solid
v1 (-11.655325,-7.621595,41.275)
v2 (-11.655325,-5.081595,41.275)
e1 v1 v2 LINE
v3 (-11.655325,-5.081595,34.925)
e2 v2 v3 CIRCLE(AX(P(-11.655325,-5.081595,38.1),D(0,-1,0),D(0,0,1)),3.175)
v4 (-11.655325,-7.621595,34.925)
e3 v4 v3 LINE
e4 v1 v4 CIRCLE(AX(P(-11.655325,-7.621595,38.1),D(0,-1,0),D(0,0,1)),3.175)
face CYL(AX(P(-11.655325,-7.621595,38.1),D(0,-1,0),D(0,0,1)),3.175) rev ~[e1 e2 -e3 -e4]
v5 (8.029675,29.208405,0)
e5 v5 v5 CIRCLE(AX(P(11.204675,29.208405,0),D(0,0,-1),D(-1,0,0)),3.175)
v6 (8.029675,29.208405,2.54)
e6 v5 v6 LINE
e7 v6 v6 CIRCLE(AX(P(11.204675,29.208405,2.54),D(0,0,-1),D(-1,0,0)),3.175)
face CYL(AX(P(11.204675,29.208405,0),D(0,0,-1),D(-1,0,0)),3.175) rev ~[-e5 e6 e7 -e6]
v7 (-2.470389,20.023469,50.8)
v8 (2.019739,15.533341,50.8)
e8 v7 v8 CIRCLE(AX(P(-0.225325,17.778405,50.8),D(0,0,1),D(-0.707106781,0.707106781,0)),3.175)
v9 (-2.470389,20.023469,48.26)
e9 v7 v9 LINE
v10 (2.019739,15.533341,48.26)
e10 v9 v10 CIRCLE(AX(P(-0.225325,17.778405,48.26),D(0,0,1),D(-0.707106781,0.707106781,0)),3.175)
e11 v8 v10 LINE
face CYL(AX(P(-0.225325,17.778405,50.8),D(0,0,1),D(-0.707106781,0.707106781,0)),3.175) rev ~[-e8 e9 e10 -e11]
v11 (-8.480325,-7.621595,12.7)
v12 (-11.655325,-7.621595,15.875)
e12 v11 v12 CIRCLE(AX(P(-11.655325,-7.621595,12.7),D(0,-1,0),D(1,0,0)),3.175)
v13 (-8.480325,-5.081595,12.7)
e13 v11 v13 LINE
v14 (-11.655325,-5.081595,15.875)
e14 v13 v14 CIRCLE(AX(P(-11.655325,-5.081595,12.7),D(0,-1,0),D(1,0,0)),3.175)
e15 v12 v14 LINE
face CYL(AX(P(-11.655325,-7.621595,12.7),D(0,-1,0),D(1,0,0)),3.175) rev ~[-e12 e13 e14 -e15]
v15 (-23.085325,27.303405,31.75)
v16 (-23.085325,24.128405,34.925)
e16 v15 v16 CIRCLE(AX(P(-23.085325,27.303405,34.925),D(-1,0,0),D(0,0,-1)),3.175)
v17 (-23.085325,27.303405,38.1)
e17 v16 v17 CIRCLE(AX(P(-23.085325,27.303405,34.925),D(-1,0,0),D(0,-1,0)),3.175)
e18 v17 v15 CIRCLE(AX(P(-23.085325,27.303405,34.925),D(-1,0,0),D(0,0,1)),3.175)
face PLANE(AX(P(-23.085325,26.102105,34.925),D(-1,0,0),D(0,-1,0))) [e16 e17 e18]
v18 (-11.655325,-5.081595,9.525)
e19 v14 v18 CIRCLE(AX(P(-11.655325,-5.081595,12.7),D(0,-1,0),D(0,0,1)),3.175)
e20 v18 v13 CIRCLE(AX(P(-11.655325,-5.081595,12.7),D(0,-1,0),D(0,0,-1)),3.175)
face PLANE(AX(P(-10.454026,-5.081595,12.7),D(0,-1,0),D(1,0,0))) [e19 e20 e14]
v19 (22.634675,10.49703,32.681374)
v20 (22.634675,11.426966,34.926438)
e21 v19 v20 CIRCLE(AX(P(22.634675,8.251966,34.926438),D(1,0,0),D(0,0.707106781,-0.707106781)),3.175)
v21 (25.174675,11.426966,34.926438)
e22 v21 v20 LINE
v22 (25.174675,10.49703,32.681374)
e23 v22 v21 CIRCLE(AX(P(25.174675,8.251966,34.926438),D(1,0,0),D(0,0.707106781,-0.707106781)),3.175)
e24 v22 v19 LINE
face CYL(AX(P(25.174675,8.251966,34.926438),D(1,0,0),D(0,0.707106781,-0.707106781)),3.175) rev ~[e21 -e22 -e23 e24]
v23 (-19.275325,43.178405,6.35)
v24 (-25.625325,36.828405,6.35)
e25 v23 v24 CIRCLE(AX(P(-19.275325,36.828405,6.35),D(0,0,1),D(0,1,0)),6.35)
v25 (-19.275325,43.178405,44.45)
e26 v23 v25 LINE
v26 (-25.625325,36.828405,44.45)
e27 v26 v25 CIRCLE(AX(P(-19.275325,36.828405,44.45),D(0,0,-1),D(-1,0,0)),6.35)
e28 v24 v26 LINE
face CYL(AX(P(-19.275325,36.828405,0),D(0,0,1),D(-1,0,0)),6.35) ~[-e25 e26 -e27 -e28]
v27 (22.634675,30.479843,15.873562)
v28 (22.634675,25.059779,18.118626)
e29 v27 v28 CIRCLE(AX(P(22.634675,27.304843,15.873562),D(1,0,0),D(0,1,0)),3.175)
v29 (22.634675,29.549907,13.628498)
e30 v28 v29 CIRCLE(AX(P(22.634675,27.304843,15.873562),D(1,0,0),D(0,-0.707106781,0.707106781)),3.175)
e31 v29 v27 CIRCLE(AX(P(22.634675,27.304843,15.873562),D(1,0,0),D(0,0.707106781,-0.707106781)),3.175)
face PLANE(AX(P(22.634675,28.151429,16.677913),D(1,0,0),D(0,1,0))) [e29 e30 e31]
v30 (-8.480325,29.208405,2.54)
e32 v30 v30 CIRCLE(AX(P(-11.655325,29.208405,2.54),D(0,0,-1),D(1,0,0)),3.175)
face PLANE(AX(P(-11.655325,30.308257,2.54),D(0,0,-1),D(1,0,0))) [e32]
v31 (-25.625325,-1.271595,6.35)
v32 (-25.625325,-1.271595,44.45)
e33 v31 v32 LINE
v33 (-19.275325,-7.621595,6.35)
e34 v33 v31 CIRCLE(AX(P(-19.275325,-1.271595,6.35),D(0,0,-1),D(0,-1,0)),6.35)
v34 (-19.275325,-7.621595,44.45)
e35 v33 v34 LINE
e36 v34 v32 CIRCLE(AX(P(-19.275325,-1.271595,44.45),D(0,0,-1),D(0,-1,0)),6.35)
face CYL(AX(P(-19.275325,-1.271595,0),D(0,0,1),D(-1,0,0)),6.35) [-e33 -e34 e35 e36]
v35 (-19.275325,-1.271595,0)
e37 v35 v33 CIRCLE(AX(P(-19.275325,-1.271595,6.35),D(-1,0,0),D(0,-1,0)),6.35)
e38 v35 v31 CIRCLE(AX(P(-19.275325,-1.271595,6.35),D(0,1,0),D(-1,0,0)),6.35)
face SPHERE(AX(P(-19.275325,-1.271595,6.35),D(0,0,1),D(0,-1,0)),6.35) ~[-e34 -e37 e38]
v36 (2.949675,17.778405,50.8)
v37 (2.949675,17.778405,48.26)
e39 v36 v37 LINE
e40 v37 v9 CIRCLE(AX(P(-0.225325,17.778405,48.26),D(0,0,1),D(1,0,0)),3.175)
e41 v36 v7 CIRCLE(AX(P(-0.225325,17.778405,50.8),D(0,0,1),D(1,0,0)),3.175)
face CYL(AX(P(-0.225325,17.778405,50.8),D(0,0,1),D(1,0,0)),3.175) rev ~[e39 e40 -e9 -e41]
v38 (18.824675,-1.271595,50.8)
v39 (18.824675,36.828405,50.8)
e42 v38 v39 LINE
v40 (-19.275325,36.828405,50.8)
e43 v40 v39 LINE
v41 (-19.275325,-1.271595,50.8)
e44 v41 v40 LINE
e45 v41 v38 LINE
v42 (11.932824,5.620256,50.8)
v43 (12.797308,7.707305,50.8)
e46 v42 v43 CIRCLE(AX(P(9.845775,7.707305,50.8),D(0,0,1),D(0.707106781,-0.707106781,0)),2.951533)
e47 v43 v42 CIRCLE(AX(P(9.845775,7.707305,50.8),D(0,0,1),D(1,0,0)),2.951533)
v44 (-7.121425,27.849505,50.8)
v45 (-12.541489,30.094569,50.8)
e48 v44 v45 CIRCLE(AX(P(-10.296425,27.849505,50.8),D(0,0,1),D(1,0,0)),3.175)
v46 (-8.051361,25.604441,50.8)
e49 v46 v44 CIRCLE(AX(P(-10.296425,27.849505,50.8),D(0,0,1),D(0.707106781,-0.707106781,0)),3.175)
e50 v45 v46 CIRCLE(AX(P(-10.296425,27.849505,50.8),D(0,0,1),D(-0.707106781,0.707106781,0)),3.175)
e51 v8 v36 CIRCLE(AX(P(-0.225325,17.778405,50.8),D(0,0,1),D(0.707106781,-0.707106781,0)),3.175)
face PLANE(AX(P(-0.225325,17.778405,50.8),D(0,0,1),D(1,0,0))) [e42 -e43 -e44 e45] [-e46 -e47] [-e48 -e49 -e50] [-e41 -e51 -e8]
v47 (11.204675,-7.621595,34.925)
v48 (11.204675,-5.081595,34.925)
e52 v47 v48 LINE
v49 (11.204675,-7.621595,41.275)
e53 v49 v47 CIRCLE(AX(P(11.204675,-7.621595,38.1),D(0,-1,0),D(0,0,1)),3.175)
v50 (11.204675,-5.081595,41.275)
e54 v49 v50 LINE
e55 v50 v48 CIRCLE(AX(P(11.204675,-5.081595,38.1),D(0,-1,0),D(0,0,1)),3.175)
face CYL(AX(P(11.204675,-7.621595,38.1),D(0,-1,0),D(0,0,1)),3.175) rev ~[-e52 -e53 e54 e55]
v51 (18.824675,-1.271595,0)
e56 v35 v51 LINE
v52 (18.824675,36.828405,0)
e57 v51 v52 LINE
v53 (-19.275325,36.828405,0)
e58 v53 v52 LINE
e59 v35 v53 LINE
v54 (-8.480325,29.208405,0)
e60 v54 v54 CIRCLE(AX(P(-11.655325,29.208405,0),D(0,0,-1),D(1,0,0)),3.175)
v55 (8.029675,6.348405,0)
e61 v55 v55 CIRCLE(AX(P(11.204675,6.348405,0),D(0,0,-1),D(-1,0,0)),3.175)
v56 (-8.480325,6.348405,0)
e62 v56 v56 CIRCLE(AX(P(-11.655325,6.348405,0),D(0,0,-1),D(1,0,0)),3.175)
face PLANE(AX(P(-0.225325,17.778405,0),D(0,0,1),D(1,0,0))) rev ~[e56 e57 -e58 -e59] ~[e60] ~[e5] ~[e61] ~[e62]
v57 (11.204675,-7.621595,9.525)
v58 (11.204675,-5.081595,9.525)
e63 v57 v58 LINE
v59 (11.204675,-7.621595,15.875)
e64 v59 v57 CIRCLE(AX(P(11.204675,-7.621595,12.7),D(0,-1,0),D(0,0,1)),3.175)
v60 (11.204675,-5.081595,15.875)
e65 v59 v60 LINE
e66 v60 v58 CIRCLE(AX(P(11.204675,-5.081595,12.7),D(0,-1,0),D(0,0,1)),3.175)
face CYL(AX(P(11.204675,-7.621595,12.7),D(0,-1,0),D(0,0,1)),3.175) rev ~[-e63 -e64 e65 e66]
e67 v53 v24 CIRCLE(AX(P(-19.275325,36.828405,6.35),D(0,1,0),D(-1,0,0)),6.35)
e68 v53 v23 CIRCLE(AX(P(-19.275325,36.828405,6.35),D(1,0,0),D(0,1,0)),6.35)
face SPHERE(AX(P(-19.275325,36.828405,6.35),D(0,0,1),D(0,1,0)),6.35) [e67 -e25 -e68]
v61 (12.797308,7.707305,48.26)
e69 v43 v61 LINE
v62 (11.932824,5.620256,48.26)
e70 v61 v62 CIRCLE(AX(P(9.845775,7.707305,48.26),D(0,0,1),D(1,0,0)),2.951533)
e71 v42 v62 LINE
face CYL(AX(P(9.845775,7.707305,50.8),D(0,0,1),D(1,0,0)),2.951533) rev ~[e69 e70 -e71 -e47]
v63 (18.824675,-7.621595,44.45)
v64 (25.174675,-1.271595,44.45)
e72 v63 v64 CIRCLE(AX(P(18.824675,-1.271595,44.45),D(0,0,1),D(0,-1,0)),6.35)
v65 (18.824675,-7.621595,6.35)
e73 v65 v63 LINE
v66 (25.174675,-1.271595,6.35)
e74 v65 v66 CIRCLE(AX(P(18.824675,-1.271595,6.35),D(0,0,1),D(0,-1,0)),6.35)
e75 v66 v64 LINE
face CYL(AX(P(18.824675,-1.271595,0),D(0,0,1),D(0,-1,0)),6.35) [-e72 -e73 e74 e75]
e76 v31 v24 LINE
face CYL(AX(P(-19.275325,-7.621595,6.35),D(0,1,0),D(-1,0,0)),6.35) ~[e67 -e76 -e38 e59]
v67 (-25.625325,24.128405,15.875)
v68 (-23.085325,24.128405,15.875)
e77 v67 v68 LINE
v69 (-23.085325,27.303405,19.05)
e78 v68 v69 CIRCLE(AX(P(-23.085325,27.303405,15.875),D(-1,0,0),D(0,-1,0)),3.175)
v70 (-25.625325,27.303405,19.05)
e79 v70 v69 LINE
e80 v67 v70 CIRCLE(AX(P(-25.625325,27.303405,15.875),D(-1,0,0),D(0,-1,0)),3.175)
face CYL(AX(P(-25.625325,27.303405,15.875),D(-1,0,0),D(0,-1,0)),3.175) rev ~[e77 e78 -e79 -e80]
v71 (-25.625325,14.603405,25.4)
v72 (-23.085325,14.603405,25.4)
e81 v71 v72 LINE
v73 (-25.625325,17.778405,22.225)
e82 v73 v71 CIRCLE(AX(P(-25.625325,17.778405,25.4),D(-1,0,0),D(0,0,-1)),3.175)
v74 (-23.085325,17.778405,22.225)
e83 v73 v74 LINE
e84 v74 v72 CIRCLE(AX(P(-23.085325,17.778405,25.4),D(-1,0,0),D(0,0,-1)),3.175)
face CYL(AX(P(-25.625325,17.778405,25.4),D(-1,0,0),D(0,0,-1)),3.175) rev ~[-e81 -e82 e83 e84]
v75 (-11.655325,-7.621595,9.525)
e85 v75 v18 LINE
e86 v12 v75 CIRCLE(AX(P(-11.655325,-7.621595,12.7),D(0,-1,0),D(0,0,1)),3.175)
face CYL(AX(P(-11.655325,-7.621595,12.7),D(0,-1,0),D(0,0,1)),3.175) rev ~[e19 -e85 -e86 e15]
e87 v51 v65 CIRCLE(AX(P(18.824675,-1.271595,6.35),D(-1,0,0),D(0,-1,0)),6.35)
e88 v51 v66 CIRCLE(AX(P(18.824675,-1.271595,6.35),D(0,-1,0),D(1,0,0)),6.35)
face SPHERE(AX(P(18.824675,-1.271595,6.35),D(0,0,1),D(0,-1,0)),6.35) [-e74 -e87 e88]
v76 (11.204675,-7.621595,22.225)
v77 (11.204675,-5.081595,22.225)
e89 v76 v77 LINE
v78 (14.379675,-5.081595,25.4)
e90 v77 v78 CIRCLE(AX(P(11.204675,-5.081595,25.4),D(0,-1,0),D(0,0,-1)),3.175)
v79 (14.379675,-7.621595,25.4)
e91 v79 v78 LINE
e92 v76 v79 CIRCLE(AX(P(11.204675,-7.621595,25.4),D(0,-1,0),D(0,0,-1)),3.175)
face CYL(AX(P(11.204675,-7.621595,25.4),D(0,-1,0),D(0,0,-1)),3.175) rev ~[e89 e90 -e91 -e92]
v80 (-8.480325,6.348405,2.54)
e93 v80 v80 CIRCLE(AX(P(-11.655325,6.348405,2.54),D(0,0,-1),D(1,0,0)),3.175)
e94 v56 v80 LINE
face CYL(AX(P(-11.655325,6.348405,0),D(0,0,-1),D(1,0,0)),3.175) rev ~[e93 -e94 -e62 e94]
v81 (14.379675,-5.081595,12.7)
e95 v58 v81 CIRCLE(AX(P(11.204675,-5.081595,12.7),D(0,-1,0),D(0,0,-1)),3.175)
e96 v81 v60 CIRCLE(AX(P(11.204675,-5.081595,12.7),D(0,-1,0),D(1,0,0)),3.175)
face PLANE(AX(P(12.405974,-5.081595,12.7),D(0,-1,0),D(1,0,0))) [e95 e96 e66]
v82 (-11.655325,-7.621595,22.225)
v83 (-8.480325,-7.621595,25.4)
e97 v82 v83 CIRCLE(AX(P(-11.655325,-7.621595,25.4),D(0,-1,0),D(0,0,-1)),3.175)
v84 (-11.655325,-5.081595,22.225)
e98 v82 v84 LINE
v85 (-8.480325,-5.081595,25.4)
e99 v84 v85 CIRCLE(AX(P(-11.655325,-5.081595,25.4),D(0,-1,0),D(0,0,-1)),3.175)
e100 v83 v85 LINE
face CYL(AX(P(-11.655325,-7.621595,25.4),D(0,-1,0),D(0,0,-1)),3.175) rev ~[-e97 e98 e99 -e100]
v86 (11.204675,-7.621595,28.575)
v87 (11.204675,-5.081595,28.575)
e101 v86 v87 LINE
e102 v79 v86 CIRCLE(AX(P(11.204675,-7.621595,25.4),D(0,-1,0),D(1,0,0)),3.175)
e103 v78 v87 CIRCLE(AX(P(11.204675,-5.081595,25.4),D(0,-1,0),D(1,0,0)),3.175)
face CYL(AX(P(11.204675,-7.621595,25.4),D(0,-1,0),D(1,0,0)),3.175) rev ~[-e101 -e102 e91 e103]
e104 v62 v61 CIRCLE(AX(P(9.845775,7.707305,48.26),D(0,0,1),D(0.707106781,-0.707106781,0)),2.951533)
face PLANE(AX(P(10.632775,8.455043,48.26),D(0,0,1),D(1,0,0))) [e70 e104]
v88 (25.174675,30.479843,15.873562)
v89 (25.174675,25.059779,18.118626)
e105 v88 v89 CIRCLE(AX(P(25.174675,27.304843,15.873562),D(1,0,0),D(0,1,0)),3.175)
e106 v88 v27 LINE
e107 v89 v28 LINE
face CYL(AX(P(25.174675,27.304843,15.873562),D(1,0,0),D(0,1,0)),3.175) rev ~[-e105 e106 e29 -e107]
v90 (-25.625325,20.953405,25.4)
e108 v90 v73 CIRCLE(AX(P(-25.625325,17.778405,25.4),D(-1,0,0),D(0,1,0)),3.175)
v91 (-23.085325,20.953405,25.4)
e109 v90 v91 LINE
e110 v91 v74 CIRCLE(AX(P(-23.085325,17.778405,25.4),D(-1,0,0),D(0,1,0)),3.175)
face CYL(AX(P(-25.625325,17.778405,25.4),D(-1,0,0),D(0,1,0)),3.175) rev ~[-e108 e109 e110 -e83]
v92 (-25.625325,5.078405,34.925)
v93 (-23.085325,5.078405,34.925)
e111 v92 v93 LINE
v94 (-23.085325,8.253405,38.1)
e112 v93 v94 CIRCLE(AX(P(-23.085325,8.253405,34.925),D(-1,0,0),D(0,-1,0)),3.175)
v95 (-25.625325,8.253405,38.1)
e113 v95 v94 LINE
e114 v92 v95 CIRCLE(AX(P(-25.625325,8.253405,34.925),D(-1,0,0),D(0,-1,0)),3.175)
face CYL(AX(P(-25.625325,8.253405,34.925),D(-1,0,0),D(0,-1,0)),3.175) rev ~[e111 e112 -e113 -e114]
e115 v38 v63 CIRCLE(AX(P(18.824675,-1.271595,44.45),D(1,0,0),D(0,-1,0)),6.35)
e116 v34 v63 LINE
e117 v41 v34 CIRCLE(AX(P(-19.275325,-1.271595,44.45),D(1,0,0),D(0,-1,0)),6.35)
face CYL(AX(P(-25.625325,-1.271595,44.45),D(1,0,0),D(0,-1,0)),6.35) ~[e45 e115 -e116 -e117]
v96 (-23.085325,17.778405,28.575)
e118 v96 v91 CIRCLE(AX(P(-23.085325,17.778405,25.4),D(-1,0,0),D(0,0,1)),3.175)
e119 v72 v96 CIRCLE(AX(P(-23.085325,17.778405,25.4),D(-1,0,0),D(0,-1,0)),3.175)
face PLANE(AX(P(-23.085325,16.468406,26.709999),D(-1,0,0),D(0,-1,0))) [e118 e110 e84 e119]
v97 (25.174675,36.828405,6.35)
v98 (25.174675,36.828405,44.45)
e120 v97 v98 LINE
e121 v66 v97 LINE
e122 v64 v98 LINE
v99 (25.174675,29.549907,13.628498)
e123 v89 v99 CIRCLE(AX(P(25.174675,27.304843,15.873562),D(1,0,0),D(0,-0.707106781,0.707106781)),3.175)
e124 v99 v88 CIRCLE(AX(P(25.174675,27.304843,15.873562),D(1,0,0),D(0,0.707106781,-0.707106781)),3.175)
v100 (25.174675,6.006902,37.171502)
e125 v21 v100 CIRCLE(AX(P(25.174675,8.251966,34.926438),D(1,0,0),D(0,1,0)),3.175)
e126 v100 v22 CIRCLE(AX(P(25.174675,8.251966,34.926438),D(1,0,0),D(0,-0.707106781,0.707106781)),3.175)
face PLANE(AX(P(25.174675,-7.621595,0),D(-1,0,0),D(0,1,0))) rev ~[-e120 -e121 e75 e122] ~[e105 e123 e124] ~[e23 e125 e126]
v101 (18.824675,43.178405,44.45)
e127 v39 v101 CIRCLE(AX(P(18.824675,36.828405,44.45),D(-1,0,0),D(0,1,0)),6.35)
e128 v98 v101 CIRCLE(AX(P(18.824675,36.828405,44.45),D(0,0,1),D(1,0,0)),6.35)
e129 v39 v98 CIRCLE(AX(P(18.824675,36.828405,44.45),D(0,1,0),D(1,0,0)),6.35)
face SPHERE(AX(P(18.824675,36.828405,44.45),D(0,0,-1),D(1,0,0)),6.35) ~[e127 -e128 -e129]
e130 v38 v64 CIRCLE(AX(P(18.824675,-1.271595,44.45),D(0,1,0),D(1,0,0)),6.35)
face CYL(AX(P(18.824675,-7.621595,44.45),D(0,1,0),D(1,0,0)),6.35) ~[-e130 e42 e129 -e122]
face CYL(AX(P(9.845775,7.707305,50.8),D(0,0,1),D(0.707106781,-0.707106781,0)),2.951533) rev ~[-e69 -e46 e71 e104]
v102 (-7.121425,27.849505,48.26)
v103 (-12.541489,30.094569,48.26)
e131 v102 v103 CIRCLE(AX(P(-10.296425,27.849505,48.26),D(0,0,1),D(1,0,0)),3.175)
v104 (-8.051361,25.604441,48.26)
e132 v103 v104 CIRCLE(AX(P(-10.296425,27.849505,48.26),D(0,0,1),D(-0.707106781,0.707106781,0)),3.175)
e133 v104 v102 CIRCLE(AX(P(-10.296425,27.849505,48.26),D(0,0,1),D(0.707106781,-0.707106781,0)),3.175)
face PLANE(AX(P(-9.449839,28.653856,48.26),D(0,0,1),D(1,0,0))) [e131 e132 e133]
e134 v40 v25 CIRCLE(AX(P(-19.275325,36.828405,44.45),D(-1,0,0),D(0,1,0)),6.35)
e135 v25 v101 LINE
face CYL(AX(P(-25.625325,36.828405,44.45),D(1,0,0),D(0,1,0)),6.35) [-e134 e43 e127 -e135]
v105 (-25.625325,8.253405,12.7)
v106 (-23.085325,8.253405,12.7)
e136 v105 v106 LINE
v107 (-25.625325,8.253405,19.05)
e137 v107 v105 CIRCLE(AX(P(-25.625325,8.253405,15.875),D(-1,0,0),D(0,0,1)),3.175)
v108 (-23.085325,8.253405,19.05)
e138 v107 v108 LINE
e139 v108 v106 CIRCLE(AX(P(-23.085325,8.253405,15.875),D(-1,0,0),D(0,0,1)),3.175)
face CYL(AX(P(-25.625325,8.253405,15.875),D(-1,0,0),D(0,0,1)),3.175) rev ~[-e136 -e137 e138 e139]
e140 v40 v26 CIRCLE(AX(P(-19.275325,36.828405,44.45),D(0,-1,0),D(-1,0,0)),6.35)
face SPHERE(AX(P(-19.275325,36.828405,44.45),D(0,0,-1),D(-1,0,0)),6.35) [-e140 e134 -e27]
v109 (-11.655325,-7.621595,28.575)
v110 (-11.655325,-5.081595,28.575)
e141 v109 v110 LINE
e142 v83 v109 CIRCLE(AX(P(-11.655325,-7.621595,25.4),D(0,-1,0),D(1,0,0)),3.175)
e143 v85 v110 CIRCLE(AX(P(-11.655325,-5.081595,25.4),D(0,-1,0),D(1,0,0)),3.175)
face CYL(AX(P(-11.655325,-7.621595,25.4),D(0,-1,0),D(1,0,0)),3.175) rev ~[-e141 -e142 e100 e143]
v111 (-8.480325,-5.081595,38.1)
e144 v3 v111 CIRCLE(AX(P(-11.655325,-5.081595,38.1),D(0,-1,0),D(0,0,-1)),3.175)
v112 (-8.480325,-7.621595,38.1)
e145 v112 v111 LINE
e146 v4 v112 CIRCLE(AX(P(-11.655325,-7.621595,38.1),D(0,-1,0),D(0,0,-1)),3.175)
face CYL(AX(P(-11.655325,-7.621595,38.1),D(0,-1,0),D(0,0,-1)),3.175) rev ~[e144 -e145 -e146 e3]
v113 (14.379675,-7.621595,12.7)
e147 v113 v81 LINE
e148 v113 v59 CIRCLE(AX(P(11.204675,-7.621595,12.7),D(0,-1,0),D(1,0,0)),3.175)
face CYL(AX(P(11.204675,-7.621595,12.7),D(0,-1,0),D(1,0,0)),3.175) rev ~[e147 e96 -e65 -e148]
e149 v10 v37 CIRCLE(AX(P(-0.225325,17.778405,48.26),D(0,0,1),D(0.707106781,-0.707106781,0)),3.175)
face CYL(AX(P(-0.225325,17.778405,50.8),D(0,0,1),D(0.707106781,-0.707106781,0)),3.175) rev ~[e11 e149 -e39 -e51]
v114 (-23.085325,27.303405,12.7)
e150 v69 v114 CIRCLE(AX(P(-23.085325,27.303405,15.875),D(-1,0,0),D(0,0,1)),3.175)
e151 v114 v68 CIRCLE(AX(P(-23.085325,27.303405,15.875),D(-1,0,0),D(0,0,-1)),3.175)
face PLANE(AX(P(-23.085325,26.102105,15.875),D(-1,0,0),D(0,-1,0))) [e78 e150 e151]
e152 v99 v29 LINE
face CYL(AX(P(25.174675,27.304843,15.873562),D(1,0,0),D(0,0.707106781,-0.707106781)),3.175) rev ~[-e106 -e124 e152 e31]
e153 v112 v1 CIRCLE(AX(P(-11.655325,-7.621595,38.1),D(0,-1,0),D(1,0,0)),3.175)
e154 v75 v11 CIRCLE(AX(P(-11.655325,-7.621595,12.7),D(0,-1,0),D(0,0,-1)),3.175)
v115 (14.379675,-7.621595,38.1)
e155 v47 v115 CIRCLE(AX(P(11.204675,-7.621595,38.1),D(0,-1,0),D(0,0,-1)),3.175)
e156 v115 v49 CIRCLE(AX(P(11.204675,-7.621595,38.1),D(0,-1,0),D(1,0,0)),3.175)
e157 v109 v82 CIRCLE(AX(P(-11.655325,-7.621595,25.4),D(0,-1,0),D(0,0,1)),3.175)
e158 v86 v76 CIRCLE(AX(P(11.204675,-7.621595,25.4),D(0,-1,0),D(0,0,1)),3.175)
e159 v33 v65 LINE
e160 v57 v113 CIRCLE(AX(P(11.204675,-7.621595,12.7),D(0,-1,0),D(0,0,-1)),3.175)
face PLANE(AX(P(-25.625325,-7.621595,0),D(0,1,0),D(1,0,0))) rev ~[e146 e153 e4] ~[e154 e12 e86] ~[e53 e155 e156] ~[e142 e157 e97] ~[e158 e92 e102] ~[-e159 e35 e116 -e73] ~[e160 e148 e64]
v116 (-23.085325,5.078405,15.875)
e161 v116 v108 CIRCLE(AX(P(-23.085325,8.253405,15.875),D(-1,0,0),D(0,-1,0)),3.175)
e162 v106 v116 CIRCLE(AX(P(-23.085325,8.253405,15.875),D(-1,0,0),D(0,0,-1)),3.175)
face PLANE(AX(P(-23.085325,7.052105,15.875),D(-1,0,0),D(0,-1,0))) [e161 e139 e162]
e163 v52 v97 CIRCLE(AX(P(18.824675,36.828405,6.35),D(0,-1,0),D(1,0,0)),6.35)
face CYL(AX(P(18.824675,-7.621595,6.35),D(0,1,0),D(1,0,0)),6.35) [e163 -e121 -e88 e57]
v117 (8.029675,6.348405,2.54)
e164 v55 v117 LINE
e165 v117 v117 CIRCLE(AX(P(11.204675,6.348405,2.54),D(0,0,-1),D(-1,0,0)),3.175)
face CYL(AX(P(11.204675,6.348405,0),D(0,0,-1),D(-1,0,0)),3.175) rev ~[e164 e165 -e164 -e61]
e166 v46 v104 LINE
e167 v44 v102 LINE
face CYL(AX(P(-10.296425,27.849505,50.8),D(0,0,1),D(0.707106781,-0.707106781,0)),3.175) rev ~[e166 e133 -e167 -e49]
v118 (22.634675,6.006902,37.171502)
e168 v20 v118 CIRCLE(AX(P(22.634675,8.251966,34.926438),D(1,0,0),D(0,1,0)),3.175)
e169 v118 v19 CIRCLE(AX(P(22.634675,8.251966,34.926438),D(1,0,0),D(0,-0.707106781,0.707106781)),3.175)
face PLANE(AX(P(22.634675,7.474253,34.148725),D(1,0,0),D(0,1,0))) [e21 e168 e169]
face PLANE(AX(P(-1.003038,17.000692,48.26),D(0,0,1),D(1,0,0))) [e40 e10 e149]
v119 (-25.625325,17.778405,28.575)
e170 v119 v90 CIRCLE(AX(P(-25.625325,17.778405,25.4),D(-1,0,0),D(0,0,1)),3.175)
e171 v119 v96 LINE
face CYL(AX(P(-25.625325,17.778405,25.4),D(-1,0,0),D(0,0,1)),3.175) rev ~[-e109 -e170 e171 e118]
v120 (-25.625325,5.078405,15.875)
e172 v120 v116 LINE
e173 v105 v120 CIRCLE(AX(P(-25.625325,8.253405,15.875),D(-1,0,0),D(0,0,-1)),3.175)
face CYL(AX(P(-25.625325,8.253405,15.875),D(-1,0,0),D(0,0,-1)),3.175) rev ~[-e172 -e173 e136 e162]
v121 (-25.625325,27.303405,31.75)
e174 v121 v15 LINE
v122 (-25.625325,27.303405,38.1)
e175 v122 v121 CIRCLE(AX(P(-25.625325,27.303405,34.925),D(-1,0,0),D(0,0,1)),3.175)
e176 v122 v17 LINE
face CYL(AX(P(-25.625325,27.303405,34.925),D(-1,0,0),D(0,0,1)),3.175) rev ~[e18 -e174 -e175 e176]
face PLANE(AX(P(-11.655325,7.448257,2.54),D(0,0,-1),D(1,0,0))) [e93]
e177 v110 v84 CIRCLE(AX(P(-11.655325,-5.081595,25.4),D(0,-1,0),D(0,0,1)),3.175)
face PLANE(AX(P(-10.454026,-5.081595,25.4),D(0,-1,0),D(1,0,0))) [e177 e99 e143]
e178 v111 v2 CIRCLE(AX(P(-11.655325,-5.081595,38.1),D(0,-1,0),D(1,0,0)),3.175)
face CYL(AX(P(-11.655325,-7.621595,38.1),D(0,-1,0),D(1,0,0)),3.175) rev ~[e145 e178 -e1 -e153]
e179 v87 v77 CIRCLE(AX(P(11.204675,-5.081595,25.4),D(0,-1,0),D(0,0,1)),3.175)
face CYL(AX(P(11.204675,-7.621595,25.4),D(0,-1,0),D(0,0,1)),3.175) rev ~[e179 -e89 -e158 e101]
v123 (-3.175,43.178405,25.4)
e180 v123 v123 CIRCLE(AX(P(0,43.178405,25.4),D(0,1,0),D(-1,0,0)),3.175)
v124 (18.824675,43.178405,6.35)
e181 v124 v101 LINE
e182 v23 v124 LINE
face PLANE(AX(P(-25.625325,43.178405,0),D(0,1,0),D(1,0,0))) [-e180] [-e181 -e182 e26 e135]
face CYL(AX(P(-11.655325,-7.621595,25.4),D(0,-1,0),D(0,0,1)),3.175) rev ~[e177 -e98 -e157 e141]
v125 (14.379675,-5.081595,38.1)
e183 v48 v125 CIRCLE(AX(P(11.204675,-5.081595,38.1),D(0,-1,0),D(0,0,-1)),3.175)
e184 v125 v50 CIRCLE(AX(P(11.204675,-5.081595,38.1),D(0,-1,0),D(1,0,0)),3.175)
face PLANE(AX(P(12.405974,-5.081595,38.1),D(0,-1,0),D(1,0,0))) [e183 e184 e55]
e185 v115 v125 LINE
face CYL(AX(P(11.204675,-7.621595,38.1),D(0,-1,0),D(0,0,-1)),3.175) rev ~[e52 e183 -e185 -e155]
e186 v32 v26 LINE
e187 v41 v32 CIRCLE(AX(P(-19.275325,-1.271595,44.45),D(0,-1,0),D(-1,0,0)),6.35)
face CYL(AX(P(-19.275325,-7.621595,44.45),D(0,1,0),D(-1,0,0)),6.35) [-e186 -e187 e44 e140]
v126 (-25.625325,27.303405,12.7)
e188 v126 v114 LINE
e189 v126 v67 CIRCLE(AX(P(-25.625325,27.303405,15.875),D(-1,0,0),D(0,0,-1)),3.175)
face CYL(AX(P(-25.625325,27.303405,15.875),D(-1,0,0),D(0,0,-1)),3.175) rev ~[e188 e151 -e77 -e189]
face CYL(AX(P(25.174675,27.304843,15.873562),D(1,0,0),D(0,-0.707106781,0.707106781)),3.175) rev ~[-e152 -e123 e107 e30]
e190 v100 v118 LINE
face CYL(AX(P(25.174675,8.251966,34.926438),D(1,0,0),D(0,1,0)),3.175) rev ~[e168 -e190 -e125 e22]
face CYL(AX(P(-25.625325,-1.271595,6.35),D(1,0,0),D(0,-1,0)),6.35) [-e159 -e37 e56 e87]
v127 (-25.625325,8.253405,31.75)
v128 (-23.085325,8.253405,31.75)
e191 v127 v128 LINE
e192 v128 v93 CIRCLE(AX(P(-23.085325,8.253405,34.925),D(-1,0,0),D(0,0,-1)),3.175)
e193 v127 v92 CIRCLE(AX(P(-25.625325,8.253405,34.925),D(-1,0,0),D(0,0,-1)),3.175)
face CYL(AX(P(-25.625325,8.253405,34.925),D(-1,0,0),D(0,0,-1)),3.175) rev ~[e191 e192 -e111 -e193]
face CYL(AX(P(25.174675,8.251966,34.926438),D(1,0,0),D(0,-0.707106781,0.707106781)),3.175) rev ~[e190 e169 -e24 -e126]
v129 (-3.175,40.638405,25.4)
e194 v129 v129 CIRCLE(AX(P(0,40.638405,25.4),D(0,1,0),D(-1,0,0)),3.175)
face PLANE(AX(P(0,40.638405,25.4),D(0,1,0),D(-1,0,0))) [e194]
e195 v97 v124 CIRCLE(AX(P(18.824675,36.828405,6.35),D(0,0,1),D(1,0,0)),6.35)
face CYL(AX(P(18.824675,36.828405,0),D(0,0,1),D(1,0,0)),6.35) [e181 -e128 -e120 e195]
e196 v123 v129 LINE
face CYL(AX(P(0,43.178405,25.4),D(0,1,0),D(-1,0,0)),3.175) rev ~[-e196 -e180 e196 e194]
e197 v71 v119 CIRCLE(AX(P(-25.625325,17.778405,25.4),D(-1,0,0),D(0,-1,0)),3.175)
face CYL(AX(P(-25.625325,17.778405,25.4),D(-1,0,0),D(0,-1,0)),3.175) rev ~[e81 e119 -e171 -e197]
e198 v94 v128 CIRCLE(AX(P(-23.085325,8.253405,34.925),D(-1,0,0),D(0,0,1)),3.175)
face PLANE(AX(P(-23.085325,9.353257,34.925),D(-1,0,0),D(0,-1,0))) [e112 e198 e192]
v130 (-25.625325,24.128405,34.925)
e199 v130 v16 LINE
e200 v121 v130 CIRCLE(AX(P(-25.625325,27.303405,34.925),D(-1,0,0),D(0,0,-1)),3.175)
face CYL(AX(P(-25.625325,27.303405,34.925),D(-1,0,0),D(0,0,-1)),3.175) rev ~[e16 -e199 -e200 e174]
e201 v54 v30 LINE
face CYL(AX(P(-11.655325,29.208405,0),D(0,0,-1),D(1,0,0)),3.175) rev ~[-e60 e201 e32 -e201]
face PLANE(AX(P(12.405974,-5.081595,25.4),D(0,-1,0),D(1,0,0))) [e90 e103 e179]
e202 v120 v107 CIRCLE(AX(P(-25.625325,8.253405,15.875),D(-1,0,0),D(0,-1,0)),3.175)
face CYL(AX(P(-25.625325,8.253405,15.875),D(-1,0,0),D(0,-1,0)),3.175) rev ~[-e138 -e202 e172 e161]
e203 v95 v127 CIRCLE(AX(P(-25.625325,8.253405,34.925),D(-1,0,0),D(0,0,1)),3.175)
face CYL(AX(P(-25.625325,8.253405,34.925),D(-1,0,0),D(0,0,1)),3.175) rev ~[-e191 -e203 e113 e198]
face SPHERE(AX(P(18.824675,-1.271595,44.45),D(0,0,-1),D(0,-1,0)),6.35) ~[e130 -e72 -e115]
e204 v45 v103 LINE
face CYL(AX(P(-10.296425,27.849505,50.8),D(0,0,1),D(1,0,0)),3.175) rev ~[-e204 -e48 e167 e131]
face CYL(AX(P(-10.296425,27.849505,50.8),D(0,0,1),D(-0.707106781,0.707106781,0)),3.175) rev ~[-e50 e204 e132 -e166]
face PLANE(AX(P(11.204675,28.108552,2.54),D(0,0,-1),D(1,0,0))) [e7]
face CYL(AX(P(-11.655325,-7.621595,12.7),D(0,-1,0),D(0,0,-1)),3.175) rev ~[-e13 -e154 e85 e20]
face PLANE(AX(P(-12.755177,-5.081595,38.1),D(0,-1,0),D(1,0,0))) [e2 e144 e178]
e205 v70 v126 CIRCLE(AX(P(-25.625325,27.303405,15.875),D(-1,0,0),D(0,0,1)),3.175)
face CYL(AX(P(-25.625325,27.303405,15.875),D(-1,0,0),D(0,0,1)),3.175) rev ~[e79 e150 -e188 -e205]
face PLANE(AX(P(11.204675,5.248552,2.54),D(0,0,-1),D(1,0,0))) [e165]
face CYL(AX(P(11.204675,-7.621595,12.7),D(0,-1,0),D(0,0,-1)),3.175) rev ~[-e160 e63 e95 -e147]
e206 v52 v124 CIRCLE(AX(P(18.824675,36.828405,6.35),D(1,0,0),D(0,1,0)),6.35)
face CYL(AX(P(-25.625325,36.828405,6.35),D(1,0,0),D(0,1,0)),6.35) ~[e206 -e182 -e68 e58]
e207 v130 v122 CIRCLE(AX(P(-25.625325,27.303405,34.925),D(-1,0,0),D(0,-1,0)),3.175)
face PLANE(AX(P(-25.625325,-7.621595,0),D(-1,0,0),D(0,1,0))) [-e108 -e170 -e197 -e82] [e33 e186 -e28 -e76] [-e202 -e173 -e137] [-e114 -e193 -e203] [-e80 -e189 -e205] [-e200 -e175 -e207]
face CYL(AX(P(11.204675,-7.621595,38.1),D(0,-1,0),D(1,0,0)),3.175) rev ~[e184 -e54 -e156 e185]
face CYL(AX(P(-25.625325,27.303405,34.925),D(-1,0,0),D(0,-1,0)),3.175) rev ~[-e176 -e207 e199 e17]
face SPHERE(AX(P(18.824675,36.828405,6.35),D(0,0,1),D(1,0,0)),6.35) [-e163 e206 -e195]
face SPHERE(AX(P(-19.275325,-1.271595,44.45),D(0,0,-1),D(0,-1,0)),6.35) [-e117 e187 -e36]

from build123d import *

# Parameters (mm, degrees)
F0_W      = 50.8
F0_H      = 50.8
F1_DEPTH  = 50.8
F2_R      = 6.35
F3_R      = 3.175
F4_DEPTH  = 2.54
F6_DEPTH  = 2.54
F8_DEPTH  = 2.54
F10_DEPTH = 2.54
F12_DEPTH = 2.54
F14_DEPTH = 2.54


with BuildPart() as f1:
    # F0 (on Top) → F1 (new body)
    with BuildSketch(Plane.XY):
        with Locations((-0.2253249615, 17.7784047042)):
            Rectangle(F0_W, F0_H)
    extrude(amount=F1_DEPTH)

    # F2
    f2_edges = [f1.edges().sort_by_distance(p)[0] for p in [
        (-25.625325, -7.621595, 25.4),
        (25.174675, -7.621595, 25.4),
        (-0.225325, -7.621595, 0),
        (-0.225325, -7.621595, 50.8),
        (25.174675, 43.178405, 25.4),
        (25.174675, 17.778405, 0),
        (-25.625325, 43.178405, 25.4),
        (25.174675, 17.778405, 50.8),
        (-0.225325, 43.178405, 0),
        (-25.625325, 17.778405, 0),
        (-25.625325, 17.778405, 50.8),
        (-0.225325, 43.178405, 50.8),
    ]]
    fillet(f2_edges, radius=F2_R)

    # F3 (on face) → F4 (cut)
    with BuildSketch(Plane(origin=(0, 43.1784047042, 0), x_dir=(-1, 0, 0), z_dir=(0, 1, 0))):
        with Locations((0, 25.4)):
            Circle(F3_R)
    extrude(amount=-F4_DEPTH, mode=Mode.SUBTRACT)

    # F5 (on face) → F6 (cut)
    with BuildSketch(Plane.XZ.offset(7.6215952958)):
        with BuildLine():
            Line((-11.6553249615, 34.925), (-11.6553249615, 41.275))
            ThreePointArc((-11.6553249615, 41.275), (-14.8303249615, 38.1), (-11.6553249615, 34.925))
        make_face()
        with BuildLine():
            ThreePointArc((-8.4803249615, 38.1), (-9.4102609313, 40.3450640303), (-11.6553249615, 41.275))
            Line((-11.6553249615, 41.275), (-11.6553249615, 34.925))
            ThreePointArc((-11.6553249615, 34.925), (-9.4102609313, 35.8549359697), (-8.4803249615, 38.1))
        make_face()
        with BuildLine():
            ThreePointArc((-8.4803249615, 25.4), (-9.4102609313, 27.6450640303), (-11.6553249615, 28.575))
            Line((-11.6553249615, 28.575), (-11.6553249615, 22.225))
            ThreePointArc((-11.6553249615, 22.225), (-9.4102609313, 23.1549359697), (-8.4803249615, 25.4))
        make_face()
        with BuildLine():
            Line((-11.6553249615, 22.225), (-11.6553249615, 28.575))
            ThreePointArc((-11.6553249615, 28.575), (-14.8303249615, 25.4), (-11.6553249615, 22.225))
        make_face()
        with BuildLine():
            Line((-11.6553249615, 15.875), (-11.6553249615, 9.525))
            ThreePointArc((-11.6553249615, 9.525), (-9.4102609313, 10.4549359697), (-8.4803249615, 12.7))
            ThreePointArc((-8.4803249615, 12.7), (-9.4102609313, 14.9450640303), (-11.6553249615, 15.875))
        make_face()
        with BuildLine():
            ThreePointArc((-11.6553249615, 15.875), (-14.8303249615, 12.7), (-11.6553249615, 9.525))
            Line((-11.6553249615, 9.525), (-11.6553249615, 15.875))
        make_face()
        with BuildLine():
            Line((11.2046750385, 15.875), (11.2046750385, 9.525))
            ThreePointArc((11.2046750385, 9.525), (13.4497390687, 10.4549359697), (14.3796750385, 12.7))
            ThreePointArc((14.3796750385, 12.7), (13.4497390687, 14.9450640303), (11.2046750385, 15.875))
        make_face()
        with BuildLine():
            ThreePointArc((11.2046750385, 15.875), (8.0296750385, 12.7), (11.2046750385, 9.525))
            Line((11.2046750385, 9.525), (11.2046750385, 15.875))
        make_face()
        with BuildLine():
            ThreePointArc((14.3796750385, 25.4), (13.4497390687, 27.6450640303), (11.2046750385, 28.575))
            Line((11.2046750385, 28.575), (11.2046750385, 22.225))
            ThreePointArc((11.2046750385, 22.225), (13.4497390687, 23.1549359697), (14.3796750385, 25.4))
        make_face()
        with BuildLine():
            Line((11.2046750385, 22.225), (11.2046750385, 28.575))
            ThreePointArc((11.2046750385, 28.575), (8.0296750385, 25.4), (11.2046750385, 22.225))
        make_face()
        with BuildLine():
            ThreePointArc((14.3796750385, 38.1), (13.4497390687, 40.3450640303), (11.2046750385, 41.275))
            Line((11.2046750385, 41.275), (11.2046750385, 34.925))
            ThreePointArc((11.2046750385, 34.925), (13.4497390687, 35.8549359697), (14.3796750385, 38.1))
        make_face()
        with BuildLine():
            Line((11.2046750385, 34.925), (11.2046750385, 41.275))
            ThreePointArc((11.2046750385, 41.275), (8.0296750385, 38.1), (11.2046750385, 34.925))
        make_face()
    extrude(amount=-F6_DEPTH, mode=Mode.SUBTRACT)

    # F7 (on face) → F8 (cut)
    with BuildSketch(Plane(origin=(-25.6253249615, 0, 0), x_dir=(0, -1, 0), z_dir=(-1, 0, 0))):
        with BuildLine():
            ThreePointArc((-24.1284047042, 34.925), (-25.0583406739, 37.1700640303), (-27.3034047042, 38.1))
            Line((-27.3034047042, 38.1), (-27.3034047042, 31.75))
            ThreePointArc((-27.3034047042, 31.75), (-25.0583406739, 32.6799359697), (-24.1284047042, 34.925))
        make_face()
        with BuildLine():
            Line((-27.3034047042, 31.75), (-27.3034047042, 38.1))
            ThreePointArc((-27.3034047042, 38.1), (-30.4784047042, 34.925), (-27.3034047042, 31.75))
        make_face()
        with BuildLine():
            Line((-8.2534047042, 31.75), (-8.2534047042, 38.1))
            ThreePointArc((-8.2534047042, 38.1), (-11.4284047042, 34.925), (-8.2534047042, 31.75))
        make_face()
        with BuildLine():
            ThreePointArc((-5.0784047042, 34.925), (-6.0083406739, 37.1700640303), (-8.2534047042, 38.1))
            Line((-8.2534047042, 38.1), (-8.2534047042, 31.75))
            ThreePointArc((-8.2534047042, 31.75), (-6.0083406739, 32.6799359697), (-5.0784047042, 34.925))
        make_face()
        with BuildLine():
            ThreePointArc((-14.6034047042, 25.4), (-15.5333406739, 27.6450640303), (-17.7784047042, 28.575))
            Line((-17.7784047042, 28.575), (-17.7784047042, 25.4))
            Line((-17.7784047042, 25.4), (-14.6034047042, 25.4))
        make_face()
        with BuildLine():
            Line((-14.6034047042, 25.4), (-17.7784047042, 25.4))
            Line((-17.7784047042, 25.4), (-17.7784047042, 22.225))
            ThreePointArc((-17.7784047042, 22.225), (-15.5333406739, 23.1549359697), (-14.6034047042, 25.4))
        make_face()
        with BuildLine():
            Line((-17.7784047042, 25.4), (-20.9534047042, 25.4))
            ThreePointArc((-20.9534047042, 25.4), (-20.0234687345, 23.1549359697), (-17.7784047042, 22.225))
            Line((-17.7784047042, 22.225), (-17.7784047042, 25.4))
        make_face()
        with BuildLine():
            ThreePointArc((-17.7784047042, 28.575), (-20.0234687345, 27.6450640303), (-20.9534047042, 25.4))
            Line((-20.9534047042, 25.4), (-17.7784047042, 25.4))
            Line((-17.7784047042, 25.4), (-17.7784047042, 28.575))
        make_face()
        with BuildLine():
            Line((-8.2534047042, 19.05), (-8.2534047042, 12.7))
            ThreePointArc((-8.2534047042, 12.7), (-6.0083406739, 13.6299359697), (-5.0784047042, 15.875))
            ThreePointArc((-5.0784047042, 15.875), (-6.0083406739, 18.1200640303), (-8.2534047042, 19.05))
        make_face()
        with BuildLine():
            ThreePointArc((-8.2534047042, 19.05), (-11.4284047042, 15.875), (-8.2534047042, 12.7))
            Line((-8.2534047042, 12.7), (-8.2534047042, 19.05))
        make_face()
        with BuildLine():
            ThreePointArc((-24.1284047042, 15.875), (-25.0583406739, 18.1200640303), (-27.3034047042, 19.05))
            Line((-27.3034047042, 19.05), (-27.3034047042, 12.7))
            ThreePointArc((-27.3034047042, 12.7), (-25.0583406739, 13.6299359697), (-24.1284047042, 15.875))
        make_face()
        with BuildLine():
            Line((-27.3034047042, 12.7), (-27.3034047042, 19.05))
            ThreePointArc((-27.3034047042, 19.05), (-30.4784047042, 15.875), (-27.3034047042, 12.7))
        make_face()
    extrude(amount=-F8_DEPTH, mode=Mode.SUBTRACT)

    # F9 (on face) → F10 (cut)
    with BuildSketch(Plane.YZ.offset(25.1746750385)):
        with BuildLine():
            ThreePointArc((30.4798430878, 15.8735616164), (28.5198629856, 18.8068791321), (25.0597790575, 18.1186256467))
            Line((25.0597790575, 18.1186256467), (29.5499071181, 13.6284975861))
            ThreePointArc((29.5499071181, 13.6284975861), (30.2381606035, 14.6585417186), (30.4798430878, 15.8735616164))
        make_face()
        with BuildLine():
            Line((29.5499071181, 13.6284975861), (25.0597790575, 18.1186256467))
            ThreePointArc((25.0597790575, 18.1186256467), (25.0597790575, 13.6284975861), (29.5499071181, 13.6284975861))
        make_face()
        with BuildLine():
            Line((10.4970303509, 32.6813743533), (6.0069022903, 37.1715024139))
            ThreePointArc((6.0069022903, 37.1715024139), (6.0069022903, 32.6813743533), (10.4970303509, 32.6813743533))
        make_face()
        with BuildLine():
            ThreePointArc((11.4269663206, 34.9264383836), (9.4669862183, 37.8597558993), (6.0069022903, 37.1715024139))
            Line((6.0069022903, 37.1715024139), (10.4970303509, 32.6813743533))
            ThreePointArc((10.4970303509, 32.6813743533), (11.1852838363, 33.7114184858), (11.4269663206, 34.9264383836))
        make_face()
    extrude(amount=-F10_DEPTH, mode=Mode.SUBTRACT)

    # F11 (on face) → F12 (cut)
    with BuildSketch(Plane(origin=(0, 0, 0), x_dir=(1, 0, 0), z_dir=(0, 0, -1))):
        with BuildLine():
            Line((8.0296750385, -6.3484047042), (14.3796750385, -6.3484047042))
            ThreePointArc((14.3796750385, -6.3484047042), (11.2046750385, -3.1734047042), (8.0296750385, -6.3484047042))
        make_face()
        with BuildLine():
            ThreePointArc((8.0296750385, -6.3484047042), (11.2046750385, -9.5234047042), (14.3796750385, -6.3484047042))
            Line((14.3796750385, -6.3484047042), (8.0296750385, -6.3484047042))
        make_face()
        with BuildLine():
            Line((8.0296750385, -29.2084047042), (14.3796750385, -29.2084047042))
            ThreePointArc((14.3796750385, -29.2084047042), (11.2046750385, -26.0334047042), (8.0296750385, -29.2084047042))
        make_face()
        with BuildLine():
            ThreePointArc((8.0296750385, -29.2084047042), (11.2046750385, -32.3834047042), (14.3796750385, -29.2084047042))
            Line((14.3796750385, -29.2084047042), (8.0296750385, -29.2084047042))
        make_face()
        with BuildLine():
            Line((-8.4803249615, -29.2084047042), (-14.8303249615, -29.2084047042))
            ThreePointArc((-14.8303249615, -29.2084047042), (-11.6553249615, -32.3834047042), (-8.4803249615, -29.2084047042))
        make_face()
        with BuildLine():
            ThreePointArc((-8.4803249615, -29.2084047042), (-11.6553249615, -26.0334047042), (-14.8303249615, -29.2084047042))
            Line((-14.8303249615, -29.2084047042), (-8.4803249615, -29.2084047042))
        make_face()
        with BuildLine():
            Line((-8.4803249615, -6.3484047042), (-14.8303249615, -6.3484047042))
            ThreePointArc((-14.8303249615, -6.3484047042), (-11.6553249615, -9.5234047042), (-8.4803249615, -6.3484047042))
        make_face()
        with BuildLine():
            ThreePointArc((-8.4803249615, -6.3484047042), (-11.6553249615, -3.1734047042), (-14.8303249615, -6.3484047042))
            Line((-14.8303249615, -6.3484047042), (-8.4803249615, -6.3484047042))
        make_face()
    extrude(amount=-F12_DEPTH, mode=Mode.SUBTRACT)

    # F13 (on face) → F14 (cut)
    with BuildSketch(Plane.XY.offset(50.8)):
        with BuildLine():
            Line((2.0197390687, 15.5333406739), (-2.4703889918, 20.0234687345))
            ThreePointArc((-2.4703889918, 20.0234687345), (-2.4703889918, 15.5333406739), (2.0197390687, 15.5333406739))
        make_face()
        with BuildLine():
            ThreePointArc((2.9496750385, 17.7784047042), (0.9896949362, 20.7117222199), (-2.4703889918, 20.0234687345))
            Line((-2.4703889918, 20.0234687345), (2.0197390687, 15.5333406739))
            ThreePointArc((2.0197390687, 15.5333406739), (2.7079925542, 16.5633848064), (2.9496750385, 17.7784047042))
        make_face()
        with BuildLine():
            ThreePointArc((-7.1214249615, 27.8495047042), (-9.0814050638, 30.7828222199), (-12.5414889918, 30.0945687345))
            Line((-12.5414889918, 30.0945687345), (-8.0513609313, 25.6044406739))
            ThreePointArc((-8.0513609313, 25.6044406739), (-7.3631074458, 26.6344848064), (-7.1214249615, 27.8495047042))
        make_face()
        with BuildLine():
            Line((-8.0513609313, 25.6044406739), (-12.5414889918, 30.0945687345))
            ThreePointArc((-12.5414889918, 30.0945687345), (-12.5414889918, 25.6044406739), (-8.0513609313, 25.6044406739))
        make_face()
        with BuildLine():
            Line((7.7587259792, 9.7943537635), (11.9328240977, 5.6202556449))
            ThreePointArc((11.9328240977, 5.6202556449), (12.5726360452, 6.5778018925), (12.7973081234, 7.7073047042))
            ThreePointArc((12.7973081234, 7.7073047042), (10.9752778502, 10.4341657109), (7.7587259792, 9.7943537635))
        make_face()
        with BuildLine():
            ThreePointArc((7.7587259792, 9.7943537635), (7.7587259792, 5.6202556449), (11.9328240977, 5.6202556449))
            Line((11.9328240977, 5.6202556449), (7.7587259792, 9.7943537635))
        make_face()
    extrude(amount=-F14_DEPTH, mode=Mode.SUBTRACT)


solid = f1.part
